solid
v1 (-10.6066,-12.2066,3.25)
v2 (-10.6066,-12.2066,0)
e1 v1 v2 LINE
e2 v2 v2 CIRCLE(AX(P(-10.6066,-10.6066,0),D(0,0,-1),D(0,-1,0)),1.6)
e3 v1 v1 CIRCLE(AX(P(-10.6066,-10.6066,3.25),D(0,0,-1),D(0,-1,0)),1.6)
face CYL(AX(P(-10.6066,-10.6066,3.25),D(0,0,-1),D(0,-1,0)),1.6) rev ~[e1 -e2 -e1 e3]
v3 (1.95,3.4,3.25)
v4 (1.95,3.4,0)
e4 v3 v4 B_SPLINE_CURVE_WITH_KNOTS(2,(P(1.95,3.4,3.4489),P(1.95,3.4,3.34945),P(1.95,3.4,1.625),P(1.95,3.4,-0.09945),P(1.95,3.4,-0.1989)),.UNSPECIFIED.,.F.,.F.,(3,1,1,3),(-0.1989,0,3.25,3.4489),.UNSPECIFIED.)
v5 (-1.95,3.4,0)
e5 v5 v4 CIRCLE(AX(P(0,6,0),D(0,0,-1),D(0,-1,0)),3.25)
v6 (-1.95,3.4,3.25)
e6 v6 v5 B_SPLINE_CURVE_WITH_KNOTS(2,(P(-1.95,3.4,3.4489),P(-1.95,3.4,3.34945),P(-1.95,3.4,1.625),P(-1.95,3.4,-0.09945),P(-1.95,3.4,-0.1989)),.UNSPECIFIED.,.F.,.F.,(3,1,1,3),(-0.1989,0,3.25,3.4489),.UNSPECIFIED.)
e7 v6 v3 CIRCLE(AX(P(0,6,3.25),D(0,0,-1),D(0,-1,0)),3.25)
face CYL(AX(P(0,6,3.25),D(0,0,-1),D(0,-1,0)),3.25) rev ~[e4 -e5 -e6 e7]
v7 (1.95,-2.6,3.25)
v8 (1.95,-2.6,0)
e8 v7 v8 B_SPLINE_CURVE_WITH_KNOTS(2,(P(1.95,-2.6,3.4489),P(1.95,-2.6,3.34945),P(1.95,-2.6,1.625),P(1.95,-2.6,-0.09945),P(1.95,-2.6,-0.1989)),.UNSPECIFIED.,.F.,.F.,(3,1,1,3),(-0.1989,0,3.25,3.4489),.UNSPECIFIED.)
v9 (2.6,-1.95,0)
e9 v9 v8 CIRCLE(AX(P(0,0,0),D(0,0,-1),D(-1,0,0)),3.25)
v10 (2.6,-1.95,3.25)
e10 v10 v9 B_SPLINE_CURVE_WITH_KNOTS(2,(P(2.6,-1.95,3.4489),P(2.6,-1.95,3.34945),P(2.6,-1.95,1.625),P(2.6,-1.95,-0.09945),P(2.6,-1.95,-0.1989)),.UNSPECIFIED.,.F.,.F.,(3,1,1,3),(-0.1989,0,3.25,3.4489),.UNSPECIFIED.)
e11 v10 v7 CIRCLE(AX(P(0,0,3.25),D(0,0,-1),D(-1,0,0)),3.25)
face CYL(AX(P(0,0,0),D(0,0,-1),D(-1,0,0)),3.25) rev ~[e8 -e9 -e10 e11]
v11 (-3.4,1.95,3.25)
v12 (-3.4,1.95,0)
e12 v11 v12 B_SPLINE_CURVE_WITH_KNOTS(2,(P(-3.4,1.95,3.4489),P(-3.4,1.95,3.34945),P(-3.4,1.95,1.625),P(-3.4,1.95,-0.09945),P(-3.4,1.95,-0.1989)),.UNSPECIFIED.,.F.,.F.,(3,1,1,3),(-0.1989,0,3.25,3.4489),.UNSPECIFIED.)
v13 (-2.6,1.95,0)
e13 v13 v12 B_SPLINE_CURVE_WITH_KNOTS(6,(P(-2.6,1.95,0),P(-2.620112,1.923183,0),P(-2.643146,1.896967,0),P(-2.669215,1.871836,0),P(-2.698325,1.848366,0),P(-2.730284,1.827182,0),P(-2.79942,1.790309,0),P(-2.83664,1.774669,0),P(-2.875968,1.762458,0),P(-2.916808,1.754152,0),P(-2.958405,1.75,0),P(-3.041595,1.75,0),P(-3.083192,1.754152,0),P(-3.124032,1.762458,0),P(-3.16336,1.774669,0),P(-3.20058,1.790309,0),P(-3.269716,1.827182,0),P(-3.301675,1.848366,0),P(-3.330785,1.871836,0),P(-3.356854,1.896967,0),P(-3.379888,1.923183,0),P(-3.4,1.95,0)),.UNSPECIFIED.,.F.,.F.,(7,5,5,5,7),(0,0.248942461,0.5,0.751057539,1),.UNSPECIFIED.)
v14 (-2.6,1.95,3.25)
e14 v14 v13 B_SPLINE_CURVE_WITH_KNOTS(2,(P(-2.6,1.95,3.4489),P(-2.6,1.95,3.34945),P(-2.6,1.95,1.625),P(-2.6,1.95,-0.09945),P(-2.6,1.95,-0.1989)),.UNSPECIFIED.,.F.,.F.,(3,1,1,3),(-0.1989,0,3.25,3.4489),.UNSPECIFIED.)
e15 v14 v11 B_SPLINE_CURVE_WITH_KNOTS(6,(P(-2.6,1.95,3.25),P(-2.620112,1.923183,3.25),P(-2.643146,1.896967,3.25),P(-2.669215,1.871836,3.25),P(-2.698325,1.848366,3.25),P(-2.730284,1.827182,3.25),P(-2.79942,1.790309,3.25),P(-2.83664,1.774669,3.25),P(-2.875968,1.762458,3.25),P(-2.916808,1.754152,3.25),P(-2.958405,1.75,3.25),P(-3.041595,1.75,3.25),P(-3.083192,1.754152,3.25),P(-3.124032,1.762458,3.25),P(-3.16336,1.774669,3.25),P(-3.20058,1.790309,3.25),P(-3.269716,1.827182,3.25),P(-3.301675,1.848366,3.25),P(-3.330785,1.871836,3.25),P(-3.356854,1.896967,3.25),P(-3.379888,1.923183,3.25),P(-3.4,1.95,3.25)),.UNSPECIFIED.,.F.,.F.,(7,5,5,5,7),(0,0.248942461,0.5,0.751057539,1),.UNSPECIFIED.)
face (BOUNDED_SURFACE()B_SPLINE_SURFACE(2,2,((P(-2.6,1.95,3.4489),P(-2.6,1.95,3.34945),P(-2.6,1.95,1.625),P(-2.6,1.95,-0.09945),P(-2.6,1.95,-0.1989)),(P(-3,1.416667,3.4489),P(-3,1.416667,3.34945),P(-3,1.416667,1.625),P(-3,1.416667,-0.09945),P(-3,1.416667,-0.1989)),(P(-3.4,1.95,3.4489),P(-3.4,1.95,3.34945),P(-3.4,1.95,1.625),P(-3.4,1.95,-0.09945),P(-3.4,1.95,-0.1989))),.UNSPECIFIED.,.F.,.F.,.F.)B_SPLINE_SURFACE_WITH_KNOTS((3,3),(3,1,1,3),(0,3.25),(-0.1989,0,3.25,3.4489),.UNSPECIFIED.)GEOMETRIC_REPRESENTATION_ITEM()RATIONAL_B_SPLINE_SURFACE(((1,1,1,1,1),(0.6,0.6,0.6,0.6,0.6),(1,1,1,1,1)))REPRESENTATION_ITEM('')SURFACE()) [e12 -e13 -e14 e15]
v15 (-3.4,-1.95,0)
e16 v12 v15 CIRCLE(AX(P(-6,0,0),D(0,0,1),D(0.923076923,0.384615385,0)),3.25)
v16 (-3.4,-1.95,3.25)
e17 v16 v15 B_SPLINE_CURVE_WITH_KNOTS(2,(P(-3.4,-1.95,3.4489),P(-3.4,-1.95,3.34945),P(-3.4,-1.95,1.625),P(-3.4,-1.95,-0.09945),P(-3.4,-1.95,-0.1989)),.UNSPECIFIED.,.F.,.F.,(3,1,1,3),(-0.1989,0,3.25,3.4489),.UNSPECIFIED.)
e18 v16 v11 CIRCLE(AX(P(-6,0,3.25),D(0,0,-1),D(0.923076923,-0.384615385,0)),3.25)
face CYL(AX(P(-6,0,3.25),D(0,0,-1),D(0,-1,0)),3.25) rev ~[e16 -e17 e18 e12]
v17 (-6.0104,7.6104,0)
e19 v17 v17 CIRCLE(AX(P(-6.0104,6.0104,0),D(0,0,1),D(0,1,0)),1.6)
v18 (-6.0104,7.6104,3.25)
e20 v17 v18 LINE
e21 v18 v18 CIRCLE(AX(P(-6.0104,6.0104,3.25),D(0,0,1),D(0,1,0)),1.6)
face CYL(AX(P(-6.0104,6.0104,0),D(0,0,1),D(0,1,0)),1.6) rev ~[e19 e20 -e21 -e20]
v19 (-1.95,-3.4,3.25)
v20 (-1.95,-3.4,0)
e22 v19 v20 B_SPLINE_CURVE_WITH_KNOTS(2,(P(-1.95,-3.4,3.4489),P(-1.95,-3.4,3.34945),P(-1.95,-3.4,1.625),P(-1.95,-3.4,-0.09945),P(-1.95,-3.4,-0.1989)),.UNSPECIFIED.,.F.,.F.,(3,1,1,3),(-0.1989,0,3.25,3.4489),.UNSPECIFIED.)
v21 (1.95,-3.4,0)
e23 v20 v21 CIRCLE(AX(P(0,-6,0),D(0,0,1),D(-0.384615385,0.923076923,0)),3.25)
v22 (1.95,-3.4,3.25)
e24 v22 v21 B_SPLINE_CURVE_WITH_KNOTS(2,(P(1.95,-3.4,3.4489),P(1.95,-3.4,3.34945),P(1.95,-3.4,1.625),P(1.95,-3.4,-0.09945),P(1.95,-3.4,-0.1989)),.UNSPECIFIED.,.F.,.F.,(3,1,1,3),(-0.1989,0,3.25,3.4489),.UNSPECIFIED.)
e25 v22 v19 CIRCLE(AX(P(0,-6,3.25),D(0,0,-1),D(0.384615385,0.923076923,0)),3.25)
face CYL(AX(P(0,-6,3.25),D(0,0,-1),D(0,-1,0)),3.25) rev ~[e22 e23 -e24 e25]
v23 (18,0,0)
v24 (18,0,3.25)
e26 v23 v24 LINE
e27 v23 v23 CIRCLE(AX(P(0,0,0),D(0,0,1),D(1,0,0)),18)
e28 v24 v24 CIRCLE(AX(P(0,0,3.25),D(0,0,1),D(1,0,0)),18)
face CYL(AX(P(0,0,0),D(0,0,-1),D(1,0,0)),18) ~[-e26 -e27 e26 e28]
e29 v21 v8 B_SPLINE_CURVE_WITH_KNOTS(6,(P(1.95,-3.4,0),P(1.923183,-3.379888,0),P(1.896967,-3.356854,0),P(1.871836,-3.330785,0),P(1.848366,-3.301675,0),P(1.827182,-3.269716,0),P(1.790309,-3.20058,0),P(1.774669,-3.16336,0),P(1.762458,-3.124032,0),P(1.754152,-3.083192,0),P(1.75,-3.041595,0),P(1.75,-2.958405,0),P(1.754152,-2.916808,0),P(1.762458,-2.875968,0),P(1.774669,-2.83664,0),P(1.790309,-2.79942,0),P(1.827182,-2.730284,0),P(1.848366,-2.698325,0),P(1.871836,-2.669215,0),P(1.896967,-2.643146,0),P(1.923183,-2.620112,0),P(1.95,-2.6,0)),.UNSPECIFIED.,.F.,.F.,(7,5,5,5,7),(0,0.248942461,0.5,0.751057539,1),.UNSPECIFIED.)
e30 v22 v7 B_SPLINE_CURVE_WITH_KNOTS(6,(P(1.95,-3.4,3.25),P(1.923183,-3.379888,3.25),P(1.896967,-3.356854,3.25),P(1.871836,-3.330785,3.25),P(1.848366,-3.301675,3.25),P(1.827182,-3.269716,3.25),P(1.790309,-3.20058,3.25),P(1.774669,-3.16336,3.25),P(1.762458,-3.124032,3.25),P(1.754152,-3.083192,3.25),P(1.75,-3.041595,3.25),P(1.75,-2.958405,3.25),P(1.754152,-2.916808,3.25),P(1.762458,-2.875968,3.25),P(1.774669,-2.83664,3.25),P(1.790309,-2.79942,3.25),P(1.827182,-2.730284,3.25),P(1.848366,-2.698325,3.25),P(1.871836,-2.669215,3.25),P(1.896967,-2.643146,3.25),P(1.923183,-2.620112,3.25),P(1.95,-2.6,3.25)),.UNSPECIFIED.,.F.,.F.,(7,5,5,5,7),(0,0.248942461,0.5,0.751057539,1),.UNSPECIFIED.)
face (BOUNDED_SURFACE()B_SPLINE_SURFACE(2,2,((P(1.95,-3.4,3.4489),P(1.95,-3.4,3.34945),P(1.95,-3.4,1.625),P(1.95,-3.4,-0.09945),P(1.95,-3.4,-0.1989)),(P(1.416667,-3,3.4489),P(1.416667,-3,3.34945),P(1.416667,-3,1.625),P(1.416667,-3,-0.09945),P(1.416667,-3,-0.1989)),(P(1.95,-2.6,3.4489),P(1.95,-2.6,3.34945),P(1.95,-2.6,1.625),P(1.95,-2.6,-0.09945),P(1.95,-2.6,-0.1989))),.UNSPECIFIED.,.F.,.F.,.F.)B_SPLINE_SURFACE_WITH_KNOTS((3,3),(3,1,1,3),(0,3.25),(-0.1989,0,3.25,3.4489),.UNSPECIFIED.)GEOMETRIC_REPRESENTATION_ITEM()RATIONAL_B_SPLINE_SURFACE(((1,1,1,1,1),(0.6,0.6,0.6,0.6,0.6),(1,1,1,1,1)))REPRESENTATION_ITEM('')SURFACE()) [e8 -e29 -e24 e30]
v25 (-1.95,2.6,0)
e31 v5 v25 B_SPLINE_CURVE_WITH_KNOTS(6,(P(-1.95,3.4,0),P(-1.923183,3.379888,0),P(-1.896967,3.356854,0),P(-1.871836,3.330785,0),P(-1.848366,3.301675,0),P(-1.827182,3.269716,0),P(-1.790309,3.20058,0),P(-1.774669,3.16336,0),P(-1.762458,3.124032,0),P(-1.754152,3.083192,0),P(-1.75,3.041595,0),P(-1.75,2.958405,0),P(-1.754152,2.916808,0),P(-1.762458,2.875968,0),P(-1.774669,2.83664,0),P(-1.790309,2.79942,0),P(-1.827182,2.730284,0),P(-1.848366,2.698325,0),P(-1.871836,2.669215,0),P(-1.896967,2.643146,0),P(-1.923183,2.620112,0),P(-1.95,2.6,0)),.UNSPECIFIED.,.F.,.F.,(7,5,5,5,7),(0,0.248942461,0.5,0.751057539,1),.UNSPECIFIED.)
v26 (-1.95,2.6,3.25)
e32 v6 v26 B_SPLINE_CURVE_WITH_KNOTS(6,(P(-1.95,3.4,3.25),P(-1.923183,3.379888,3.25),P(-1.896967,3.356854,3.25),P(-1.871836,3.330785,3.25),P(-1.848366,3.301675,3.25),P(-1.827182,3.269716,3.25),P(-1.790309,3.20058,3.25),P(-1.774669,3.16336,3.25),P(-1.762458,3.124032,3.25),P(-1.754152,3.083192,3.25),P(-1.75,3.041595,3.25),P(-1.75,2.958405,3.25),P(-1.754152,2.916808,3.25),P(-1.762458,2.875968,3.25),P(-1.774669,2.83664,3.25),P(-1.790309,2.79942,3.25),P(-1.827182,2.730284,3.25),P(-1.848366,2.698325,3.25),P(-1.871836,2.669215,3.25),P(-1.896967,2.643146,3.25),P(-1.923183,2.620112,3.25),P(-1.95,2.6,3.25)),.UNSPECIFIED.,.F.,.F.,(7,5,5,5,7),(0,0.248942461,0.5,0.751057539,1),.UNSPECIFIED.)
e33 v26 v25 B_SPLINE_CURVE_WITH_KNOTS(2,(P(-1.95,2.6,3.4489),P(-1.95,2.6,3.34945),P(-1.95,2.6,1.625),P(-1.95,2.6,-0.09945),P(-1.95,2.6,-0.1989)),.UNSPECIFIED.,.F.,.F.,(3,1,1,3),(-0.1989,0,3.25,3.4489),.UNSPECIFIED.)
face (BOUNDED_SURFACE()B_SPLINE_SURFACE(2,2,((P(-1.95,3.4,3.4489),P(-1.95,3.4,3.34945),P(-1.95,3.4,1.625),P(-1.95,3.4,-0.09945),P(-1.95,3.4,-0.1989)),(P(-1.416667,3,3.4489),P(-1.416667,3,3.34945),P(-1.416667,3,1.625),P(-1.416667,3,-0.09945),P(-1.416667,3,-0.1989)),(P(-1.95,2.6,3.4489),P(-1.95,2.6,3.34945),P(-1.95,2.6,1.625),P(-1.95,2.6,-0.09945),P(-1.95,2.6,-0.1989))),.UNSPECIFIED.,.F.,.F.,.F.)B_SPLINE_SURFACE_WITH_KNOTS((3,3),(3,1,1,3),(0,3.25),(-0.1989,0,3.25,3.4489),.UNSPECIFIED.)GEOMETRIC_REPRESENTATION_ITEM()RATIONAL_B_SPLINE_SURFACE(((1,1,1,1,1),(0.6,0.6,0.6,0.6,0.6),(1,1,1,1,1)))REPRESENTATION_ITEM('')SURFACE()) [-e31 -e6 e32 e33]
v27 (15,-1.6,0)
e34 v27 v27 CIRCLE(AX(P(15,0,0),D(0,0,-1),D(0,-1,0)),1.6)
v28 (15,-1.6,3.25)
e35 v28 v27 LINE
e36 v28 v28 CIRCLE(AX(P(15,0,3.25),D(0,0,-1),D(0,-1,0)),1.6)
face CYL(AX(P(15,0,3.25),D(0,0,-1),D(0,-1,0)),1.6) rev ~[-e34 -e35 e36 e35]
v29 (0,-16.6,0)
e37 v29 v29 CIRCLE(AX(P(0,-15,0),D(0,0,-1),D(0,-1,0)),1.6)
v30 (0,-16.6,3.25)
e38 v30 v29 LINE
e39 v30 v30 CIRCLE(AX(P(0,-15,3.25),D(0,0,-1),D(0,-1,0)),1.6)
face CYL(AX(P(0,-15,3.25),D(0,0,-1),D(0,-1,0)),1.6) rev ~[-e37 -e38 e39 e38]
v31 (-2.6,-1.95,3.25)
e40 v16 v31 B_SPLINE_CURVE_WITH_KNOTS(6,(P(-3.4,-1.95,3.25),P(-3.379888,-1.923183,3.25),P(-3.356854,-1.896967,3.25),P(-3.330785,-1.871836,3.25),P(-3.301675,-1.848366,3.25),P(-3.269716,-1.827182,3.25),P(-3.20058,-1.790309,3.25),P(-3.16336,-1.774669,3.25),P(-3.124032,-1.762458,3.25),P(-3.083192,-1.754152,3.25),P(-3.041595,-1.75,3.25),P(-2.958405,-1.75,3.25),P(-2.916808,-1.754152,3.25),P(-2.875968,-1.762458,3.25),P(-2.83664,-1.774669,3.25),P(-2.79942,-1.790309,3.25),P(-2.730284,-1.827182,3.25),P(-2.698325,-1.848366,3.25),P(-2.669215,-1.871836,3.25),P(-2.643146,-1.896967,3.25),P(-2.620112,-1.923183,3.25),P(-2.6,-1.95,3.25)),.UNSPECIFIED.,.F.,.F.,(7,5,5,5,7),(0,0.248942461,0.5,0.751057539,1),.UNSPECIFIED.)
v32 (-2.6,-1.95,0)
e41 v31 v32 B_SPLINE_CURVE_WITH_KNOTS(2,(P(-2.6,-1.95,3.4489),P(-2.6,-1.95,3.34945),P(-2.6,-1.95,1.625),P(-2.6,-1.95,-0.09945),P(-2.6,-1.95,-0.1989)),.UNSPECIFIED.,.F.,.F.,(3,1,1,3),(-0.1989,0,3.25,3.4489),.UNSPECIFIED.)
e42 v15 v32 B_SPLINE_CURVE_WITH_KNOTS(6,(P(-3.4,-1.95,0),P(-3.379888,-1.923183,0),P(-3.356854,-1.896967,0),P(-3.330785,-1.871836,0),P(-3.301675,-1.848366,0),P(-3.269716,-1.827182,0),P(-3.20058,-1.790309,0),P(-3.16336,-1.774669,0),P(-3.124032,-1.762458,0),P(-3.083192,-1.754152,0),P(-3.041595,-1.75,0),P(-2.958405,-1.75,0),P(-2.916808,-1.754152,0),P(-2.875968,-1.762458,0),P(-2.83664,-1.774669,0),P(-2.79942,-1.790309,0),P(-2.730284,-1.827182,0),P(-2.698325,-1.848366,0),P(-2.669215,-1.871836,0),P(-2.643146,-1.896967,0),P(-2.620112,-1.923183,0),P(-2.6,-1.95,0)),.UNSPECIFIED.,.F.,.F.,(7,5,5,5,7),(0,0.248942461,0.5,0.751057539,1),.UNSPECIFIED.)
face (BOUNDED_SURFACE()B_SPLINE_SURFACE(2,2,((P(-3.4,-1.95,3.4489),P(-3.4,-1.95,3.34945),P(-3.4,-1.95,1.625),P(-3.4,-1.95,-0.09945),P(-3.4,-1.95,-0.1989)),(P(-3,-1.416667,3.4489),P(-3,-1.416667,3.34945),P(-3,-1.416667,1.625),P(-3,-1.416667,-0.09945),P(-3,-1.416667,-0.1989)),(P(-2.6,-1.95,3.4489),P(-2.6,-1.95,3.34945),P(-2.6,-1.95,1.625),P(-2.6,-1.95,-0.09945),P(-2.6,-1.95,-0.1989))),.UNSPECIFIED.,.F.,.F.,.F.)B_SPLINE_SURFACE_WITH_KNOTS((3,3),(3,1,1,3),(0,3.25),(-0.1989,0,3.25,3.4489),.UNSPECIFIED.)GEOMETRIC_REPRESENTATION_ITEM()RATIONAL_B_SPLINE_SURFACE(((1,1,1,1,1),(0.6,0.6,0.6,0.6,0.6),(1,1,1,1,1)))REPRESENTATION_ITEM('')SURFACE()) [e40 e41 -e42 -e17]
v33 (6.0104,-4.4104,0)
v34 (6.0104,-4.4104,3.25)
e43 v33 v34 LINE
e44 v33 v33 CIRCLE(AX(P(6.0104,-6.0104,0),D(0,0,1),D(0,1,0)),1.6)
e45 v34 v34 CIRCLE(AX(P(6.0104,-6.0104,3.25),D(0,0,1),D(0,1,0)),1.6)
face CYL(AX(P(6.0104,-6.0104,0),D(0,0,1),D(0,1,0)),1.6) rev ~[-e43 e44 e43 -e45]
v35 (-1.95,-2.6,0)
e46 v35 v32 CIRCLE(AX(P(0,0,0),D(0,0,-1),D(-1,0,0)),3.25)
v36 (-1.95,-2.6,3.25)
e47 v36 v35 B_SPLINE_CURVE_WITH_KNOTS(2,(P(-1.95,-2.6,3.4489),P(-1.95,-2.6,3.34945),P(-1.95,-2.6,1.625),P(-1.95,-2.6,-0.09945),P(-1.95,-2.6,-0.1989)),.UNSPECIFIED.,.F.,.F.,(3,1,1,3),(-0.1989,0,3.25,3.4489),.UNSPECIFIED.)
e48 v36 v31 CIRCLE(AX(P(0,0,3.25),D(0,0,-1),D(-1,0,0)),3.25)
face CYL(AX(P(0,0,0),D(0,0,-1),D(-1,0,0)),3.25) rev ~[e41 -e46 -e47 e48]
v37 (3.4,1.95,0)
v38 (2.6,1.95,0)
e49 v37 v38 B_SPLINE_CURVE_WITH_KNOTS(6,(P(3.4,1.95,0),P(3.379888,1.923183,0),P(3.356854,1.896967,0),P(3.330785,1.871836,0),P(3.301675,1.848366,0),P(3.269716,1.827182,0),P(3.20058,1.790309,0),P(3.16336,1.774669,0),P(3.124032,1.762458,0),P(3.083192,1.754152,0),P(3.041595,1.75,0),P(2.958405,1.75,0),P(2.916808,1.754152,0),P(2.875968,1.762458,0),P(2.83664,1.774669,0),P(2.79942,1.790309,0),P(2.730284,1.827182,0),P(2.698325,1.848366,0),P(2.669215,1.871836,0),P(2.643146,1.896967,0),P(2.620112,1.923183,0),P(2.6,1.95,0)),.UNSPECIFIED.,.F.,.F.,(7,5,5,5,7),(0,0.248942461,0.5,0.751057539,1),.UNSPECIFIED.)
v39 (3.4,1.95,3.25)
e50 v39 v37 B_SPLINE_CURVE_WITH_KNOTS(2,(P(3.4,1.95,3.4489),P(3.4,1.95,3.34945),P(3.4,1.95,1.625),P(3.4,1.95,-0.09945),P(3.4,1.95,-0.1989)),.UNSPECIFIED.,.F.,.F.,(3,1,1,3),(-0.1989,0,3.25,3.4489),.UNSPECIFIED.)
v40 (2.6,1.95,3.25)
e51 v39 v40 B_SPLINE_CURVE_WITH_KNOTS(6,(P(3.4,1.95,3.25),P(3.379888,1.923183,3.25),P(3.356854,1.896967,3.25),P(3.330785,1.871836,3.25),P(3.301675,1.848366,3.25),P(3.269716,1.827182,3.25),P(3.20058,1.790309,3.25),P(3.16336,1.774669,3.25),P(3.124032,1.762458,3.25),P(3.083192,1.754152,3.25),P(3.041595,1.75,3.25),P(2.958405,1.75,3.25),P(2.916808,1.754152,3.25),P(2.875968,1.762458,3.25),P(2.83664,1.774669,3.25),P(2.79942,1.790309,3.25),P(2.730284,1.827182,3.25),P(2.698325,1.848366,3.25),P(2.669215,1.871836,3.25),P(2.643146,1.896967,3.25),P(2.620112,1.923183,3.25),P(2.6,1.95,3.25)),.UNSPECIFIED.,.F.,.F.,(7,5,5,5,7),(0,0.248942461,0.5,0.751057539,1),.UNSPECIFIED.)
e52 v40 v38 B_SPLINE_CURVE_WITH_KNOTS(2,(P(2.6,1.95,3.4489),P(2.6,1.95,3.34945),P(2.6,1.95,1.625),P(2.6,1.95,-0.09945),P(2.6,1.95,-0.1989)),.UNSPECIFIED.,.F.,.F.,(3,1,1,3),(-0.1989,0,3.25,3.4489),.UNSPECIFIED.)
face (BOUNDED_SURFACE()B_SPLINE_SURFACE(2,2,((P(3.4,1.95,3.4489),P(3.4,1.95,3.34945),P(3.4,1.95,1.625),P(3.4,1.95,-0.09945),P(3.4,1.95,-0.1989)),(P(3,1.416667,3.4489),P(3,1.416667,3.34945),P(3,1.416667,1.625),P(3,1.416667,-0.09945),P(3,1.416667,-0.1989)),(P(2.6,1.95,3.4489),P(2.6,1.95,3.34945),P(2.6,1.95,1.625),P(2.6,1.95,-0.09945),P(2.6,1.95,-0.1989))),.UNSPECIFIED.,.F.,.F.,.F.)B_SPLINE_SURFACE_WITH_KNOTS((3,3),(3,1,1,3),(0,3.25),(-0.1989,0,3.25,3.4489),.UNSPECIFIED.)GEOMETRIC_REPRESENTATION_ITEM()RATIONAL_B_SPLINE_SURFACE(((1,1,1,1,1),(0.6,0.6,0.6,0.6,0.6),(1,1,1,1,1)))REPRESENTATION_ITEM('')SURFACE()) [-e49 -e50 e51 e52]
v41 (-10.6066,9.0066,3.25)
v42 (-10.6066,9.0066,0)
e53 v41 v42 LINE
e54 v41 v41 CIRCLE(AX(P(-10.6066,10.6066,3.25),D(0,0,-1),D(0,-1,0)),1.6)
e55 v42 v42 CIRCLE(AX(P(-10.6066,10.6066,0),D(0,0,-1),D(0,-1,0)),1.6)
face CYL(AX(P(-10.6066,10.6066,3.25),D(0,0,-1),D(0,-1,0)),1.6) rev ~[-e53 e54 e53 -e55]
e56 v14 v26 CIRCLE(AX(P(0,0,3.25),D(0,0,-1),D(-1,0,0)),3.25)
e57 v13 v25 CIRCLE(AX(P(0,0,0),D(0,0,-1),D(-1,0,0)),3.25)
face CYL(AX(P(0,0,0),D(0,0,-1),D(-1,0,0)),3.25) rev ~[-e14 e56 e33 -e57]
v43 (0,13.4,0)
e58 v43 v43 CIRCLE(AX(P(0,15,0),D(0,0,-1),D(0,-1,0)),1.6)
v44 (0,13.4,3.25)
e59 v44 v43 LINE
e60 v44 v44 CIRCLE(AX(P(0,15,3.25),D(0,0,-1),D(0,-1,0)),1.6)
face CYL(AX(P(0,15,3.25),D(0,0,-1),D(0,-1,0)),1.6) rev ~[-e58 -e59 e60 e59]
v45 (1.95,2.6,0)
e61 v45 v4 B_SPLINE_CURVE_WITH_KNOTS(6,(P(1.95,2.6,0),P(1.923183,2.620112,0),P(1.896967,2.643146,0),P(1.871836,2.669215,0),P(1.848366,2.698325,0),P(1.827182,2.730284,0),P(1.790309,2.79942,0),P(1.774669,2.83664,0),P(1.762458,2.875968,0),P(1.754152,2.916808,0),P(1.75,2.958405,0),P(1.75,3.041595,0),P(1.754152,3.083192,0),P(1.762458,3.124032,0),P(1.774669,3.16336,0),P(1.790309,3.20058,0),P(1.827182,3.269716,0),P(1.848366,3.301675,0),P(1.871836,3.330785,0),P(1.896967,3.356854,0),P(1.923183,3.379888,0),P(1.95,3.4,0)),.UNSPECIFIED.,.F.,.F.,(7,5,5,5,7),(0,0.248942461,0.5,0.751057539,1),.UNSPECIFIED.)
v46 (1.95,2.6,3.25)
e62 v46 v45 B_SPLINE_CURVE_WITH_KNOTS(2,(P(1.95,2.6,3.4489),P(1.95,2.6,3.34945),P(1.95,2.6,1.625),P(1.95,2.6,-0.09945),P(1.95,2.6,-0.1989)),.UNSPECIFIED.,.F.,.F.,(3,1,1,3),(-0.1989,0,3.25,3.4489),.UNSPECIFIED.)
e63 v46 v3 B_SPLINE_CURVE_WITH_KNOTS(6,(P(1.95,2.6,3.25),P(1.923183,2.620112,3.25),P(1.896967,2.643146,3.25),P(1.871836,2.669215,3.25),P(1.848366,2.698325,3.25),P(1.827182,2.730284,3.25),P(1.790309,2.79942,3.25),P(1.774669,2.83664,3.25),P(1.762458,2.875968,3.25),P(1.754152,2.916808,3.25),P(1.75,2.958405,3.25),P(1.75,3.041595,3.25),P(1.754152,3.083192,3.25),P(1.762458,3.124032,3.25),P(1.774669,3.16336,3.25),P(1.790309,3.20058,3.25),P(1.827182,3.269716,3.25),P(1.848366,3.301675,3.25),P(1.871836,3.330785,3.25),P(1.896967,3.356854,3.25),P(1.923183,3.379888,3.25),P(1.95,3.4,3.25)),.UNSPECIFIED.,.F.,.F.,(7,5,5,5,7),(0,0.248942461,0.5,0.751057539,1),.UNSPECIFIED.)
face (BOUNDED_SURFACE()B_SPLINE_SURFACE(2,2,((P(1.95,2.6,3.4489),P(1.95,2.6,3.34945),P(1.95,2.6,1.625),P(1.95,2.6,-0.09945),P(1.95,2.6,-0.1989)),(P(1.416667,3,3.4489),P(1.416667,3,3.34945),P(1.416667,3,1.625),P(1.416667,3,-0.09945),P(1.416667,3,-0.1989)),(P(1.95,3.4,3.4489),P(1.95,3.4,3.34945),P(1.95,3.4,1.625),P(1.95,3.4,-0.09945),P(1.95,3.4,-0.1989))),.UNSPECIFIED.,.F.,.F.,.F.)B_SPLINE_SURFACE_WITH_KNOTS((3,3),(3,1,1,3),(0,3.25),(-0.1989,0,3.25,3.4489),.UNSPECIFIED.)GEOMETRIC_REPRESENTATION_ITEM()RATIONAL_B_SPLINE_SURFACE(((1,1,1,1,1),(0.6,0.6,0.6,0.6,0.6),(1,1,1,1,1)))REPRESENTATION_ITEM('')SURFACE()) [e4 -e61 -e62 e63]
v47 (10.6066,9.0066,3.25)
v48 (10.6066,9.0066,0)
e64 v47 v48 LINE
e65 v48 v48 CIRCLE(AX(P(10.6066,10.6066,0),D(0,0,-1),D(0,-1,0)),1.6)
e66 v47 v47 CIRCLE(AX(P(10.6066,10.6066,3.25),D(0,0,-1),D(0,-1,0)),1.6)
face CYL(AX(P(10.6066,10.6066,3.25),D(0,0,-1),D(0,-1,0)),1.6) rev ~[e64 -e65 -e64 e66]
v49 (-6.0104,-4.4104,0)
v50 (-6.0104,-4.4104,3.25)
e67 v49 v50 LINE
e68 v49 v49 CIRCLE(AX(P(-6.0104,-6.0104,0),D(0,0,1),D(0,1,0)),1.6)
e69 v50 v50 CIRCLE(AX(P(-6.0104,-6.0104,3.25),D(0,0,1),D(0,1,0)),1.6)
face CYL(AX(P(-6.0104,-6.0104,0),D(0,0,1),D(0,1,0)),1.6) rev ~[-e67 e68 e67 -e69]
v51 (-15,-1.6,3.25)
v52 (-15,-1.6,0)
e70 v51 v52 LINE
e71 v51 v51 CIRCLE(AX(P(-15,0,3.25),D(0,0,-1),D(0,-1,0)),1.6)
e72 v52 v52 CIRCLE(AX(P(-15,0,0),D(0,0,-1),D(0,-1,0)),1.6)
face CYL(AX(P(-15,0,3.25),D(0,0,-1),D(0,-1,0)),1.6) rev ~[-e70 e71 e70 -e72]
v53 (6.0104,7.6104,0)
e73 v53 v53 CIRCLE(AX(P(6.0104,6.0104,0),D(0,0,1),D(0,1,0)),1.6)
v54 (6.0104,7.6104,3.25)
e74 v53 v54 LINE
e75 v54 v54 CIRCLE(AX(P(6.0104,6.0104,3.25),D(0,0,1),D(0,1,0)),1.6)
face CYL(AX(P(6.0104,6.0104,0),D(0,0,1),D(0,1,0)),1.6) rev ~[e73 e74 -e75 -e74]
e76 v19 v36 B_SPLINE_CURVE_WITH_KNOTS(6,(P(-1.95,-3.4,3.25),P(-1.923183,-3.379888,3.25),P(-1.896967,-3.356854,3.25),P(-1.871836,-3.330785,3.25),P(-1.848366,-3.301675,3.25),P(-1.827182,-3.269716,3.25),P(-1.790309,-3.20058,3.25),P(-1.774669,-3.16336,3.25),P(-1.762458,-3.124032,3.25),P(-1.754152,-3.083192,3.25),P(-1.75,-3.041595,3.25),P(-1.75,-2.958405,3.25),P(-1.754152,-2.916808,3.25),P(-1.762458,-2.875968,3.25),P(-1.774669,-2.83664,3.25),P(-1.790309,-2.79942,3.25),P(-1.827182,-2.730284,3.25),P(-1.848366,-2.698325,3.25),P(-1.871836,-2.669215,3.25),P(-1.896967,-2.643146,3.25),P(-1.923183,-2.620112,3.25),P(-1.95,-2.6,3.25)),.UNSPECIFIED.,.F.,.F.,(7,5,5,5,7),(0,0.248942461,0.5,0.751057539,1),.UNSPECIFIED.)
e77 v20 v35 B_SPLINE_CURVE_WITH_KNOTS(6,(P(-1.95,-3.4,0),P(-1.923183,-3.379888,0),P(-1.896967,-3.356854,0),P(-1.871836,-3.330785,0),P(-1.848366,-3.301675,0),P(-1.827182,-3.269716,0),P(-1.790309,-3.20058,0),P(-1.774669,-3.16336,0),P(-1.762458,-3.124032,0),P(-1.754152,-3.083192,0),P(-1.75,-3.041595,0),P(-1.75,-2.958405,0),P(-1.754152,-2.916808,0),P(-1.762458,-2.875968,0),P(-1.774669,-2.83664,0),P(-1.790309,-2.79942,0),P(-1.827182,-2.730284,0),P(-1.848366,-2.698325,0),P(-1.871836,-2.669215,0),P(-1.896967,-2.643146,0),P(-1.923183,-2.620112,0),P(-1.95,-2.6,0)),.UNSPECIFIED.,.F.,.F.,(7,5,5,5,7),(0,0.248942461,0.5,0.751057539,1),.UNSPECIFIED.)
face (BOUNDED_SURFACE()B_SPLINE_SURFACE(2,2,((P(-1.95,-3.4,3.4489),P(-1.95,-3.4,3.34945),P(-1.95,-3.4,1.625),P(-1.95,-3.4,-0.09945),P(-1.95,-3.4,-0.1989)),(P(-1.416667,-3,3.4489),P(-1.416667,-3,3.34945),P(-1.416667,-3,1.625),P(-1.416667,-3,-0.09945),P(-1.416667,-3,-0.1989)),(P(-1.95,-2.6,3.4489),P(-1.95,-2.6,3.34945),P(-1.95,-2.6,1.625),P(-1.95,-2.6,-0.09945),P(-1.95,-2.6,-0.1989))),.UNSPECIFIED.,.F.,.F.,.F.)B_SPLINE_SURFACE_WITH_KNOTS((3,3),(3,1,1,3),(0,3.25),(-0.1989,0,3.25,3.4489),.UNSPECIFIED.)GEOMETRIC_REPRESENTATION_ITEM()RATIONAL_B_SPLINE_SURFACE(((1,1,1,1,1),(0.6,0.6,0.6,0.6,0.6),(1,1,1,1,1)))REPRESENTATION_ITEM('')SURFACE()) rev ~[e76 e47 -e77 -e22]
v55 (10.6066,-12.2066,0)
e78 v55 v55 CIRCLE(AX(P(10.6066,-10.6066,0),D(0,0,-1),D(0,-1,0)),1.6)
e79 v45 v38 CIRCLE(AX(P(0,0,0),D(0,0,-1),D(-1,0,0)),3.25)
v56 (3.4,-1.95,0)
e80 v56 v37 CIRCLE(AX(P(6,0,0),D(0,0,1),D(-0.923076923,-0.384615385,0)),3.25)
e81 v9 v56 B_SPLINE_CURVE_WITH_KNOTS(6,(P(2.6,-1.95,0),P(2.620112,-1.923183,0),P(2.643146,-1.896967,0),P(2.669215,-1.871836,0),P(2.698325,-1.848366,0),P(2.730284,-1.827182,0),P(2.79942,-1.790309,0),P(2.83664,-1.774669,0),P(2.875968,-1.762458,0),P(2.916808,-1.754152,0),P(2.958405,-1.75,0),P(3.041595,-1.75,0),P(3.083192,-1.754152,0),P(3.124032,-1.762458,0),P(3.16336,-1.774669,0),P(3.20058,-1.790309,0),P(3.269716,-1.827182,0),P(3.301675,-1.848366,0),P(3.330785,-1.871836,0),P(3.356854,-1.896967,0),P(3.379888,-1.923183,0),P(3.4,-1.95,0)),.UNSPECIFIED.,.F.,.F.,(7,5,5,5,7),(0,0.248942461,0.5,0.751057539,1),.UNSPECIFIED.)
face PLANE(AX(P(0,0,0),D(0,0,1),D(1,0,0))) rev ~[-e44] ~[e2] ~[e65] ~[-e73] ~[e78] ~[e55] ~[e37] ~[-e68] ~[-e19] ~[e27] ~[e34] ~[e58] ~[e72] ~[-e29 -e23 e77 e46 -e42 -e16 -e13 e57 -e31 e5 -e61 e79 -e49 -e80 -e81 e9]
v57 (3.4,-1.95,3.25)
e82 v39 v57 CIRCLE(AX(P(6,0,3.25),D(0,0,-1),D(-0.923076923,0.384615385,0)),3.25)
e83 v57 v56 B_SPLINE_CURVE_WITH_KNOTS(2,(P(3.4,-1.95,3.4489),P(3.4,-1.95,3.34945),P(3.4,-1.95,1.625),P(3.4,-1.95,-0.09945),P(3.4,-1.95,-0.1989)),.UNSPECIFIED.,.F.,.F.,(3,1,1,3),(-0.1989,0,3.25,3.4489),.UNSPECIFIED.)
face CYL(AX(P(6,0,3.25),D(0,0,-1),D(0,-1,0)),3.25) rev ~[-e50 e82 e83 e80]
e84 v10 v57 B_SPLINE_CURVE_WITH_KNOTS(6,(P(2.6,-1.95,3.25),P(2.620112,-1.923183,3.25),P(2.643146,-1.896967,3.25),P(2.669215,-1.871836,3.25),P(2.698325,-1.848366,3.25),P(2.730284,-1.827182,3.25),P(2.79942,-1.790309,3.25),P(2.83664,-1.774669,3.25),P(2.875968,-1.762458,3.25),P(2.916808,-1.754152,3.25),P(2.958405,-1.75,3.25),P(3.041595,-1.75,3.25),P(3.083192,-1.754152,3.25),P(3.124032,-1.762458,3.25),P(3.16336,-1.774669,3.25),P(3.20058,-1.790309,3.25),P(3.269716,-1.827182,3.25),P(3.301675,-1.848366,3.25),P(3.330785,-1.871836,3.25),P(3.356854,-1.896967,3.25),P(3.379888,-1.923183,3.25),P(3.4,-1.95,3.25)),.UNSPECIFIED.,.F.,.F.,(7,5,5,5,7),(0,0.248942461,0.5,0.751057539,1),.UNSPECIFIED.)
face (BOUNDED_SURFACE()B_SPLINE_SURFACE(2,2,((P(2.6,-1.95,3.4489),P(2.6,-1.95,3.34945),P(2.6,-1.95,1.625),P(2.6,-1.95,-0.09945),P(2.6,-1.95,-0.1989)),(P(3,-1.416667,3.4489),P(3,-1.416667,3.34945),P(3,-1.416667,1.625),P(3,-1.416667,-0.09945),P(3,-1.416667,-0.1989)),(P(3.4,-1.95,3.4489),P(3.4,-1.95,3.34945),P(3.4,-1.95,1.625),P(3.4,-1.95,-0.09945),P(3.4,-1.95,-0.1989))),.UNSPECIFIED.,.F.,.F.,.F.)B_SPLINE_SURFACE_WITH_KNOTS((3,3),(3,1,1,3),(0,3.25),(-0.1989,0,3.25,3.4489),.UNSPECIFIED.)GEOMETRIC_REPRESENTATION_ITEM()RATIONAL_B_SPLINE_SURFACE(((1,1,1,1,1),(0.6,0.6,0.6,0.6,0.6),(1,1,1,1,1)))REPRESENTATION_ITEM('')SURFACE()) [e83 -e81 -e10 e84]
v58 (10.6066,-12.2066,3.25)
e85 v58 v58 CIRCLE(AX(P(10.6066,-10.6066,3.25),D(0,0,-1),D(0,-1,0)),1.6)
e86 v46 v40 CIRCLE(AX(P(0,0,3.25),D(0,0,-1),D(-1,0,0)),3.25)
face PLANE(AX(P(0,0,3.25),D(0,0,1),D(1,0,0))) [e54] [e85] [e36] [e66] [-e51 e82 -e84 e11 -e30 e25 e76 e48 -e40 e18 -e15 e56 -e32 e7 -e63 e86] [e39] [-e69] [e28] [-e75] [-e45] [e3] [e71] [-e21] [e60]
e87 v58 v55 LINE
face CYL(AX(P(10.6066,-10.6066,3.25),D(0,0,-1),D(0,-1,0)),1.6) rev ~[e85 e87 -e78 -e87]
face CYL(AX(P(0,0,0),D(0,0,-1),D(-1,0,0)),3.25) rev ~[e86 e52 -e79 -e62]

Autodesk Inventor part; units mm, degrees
ref_plane "YZ Plane" through (0, 0, 0) normal (1, 0, 0) x (0, 1, 0)
ref_plane "XZ Plane" through (0, 0, 0) normal (0, 1, 0) x (-1, 0, 0)
ref_plane "XY Plane" through (0, 0, 0) normal (0, 0, 1) x (1, 0, 0)
sketch "スケッチ1" plane through (0, 0, 0) normal (0, 0, 1) x (1, 0, 0)
  circle A0 centre (0, 0) radius 18
  dimension "d0" = 36
extrude "押し出し1" add sketch "スケッチ1" along normal blind 3.25
sketch "スケッチ2" plane through (0, 0, 3.25) normal (0, 0, 1) x (1, 0, 0)
  circle A0 centre (0, 0) radius 6
  point P0 (0, 6)
  point P1 (-6, 0)
  point P2 (0, -6)
  point P3 (6, 0)
  dimension "d3" = 12
  dimension "d6" = 360
hole "穴1" at (0, 6, 3.25) at (-6, 0, 3.25) at (0, -6, 3.25) at (6, 0, 3.25) direction (0, 0, -1) diameter 3.2 end through all counterbore diameter 6.5 counterbore depth 4 clearance for "Socket Head Cap Screw" size "M3" standard "Ansi Metric M Profile"
sketch "スケッチ3" plane through (0, 0, 0) normal (0, 0, -1) x (-1, 0, 0)
  circle A0 centre (0, 0) radius 8.5
  point P0 (-6.0104, 6.0104)
  point P1 (-6.0104, -6.0104)
  point P2 (6.0104, -6.0104)
  point P3 (6.0104, 6.0104)
  dimension "d15" = 17
  dimension "d18" = 360
hole "穴2" at (6.0104, 6.0104, 0) at (6.0104, -6.0104, 0) at (-6.0104, -6.0104, 0) at (-6.0104, 6.0104, 0) direction (0, 0, 1) diameter 3.2 end through all clearance for "Socket Head Cap Screw" size "M3" standard "Ansi Metric M Profile"
sketch "スケッチ4" plane through (0, 0, 0) normal (0, 0, -1) x (-1, 0, 0)
  circle A0 centre (0, 0) radius 3.25
  dimension "d27" = 6.5
extrude "押し出し2" cut sketch "スケッチ4" against normal blind 8
fillet "フィレット1" radius 0.5 8 edges at (-1.25, -3, 1.625) (1.25, -3, 1.625) (3, -1.25, 1.625) (3, 1.25, 1.625) (1.25, 3, 1.625) (-1.25, 3, 1.625) (-3, 1.25, 1.625) (-3, -1.25, 1.625)
sketch "スケッチ5" plane through (0, 0, 3.25) normal (0, 0, 1) x (1, 0, 0)
  circle A0 centre (0, 0) radius 15
  point P0 (0, -15)
  point P1 (10.6066, -10.6066)
  point P2 (15, 0)
  point P3 (10.6066, 10.6066)
  point P4 (0, 15)
  point P5 (-10.6066, 10.6066)
  point P6 (-15, 0)
  point P7 (-10.6066, -10.6066)
  dimension "d31" = 30
  dimension "d34" = 360
hole "穴3" at (0, -15, 3.25) at (10.6066, -10.6066, 3.25) at (15, 0, 3.25) at (10.6066, 10.6066, 3.25) at (0, 15, 3.25) at (-10.6066, 10.6066, 3.25) at (-15, 0, 3.25) at (-10.6066, -10.6066, 3.25) direction (0, 0, -1) diameter 3.2 end through all clearance for "Socket Head Cap Screw" size "M3" standard "Ansi Metric M Profile"
properties part number "s_base5"
